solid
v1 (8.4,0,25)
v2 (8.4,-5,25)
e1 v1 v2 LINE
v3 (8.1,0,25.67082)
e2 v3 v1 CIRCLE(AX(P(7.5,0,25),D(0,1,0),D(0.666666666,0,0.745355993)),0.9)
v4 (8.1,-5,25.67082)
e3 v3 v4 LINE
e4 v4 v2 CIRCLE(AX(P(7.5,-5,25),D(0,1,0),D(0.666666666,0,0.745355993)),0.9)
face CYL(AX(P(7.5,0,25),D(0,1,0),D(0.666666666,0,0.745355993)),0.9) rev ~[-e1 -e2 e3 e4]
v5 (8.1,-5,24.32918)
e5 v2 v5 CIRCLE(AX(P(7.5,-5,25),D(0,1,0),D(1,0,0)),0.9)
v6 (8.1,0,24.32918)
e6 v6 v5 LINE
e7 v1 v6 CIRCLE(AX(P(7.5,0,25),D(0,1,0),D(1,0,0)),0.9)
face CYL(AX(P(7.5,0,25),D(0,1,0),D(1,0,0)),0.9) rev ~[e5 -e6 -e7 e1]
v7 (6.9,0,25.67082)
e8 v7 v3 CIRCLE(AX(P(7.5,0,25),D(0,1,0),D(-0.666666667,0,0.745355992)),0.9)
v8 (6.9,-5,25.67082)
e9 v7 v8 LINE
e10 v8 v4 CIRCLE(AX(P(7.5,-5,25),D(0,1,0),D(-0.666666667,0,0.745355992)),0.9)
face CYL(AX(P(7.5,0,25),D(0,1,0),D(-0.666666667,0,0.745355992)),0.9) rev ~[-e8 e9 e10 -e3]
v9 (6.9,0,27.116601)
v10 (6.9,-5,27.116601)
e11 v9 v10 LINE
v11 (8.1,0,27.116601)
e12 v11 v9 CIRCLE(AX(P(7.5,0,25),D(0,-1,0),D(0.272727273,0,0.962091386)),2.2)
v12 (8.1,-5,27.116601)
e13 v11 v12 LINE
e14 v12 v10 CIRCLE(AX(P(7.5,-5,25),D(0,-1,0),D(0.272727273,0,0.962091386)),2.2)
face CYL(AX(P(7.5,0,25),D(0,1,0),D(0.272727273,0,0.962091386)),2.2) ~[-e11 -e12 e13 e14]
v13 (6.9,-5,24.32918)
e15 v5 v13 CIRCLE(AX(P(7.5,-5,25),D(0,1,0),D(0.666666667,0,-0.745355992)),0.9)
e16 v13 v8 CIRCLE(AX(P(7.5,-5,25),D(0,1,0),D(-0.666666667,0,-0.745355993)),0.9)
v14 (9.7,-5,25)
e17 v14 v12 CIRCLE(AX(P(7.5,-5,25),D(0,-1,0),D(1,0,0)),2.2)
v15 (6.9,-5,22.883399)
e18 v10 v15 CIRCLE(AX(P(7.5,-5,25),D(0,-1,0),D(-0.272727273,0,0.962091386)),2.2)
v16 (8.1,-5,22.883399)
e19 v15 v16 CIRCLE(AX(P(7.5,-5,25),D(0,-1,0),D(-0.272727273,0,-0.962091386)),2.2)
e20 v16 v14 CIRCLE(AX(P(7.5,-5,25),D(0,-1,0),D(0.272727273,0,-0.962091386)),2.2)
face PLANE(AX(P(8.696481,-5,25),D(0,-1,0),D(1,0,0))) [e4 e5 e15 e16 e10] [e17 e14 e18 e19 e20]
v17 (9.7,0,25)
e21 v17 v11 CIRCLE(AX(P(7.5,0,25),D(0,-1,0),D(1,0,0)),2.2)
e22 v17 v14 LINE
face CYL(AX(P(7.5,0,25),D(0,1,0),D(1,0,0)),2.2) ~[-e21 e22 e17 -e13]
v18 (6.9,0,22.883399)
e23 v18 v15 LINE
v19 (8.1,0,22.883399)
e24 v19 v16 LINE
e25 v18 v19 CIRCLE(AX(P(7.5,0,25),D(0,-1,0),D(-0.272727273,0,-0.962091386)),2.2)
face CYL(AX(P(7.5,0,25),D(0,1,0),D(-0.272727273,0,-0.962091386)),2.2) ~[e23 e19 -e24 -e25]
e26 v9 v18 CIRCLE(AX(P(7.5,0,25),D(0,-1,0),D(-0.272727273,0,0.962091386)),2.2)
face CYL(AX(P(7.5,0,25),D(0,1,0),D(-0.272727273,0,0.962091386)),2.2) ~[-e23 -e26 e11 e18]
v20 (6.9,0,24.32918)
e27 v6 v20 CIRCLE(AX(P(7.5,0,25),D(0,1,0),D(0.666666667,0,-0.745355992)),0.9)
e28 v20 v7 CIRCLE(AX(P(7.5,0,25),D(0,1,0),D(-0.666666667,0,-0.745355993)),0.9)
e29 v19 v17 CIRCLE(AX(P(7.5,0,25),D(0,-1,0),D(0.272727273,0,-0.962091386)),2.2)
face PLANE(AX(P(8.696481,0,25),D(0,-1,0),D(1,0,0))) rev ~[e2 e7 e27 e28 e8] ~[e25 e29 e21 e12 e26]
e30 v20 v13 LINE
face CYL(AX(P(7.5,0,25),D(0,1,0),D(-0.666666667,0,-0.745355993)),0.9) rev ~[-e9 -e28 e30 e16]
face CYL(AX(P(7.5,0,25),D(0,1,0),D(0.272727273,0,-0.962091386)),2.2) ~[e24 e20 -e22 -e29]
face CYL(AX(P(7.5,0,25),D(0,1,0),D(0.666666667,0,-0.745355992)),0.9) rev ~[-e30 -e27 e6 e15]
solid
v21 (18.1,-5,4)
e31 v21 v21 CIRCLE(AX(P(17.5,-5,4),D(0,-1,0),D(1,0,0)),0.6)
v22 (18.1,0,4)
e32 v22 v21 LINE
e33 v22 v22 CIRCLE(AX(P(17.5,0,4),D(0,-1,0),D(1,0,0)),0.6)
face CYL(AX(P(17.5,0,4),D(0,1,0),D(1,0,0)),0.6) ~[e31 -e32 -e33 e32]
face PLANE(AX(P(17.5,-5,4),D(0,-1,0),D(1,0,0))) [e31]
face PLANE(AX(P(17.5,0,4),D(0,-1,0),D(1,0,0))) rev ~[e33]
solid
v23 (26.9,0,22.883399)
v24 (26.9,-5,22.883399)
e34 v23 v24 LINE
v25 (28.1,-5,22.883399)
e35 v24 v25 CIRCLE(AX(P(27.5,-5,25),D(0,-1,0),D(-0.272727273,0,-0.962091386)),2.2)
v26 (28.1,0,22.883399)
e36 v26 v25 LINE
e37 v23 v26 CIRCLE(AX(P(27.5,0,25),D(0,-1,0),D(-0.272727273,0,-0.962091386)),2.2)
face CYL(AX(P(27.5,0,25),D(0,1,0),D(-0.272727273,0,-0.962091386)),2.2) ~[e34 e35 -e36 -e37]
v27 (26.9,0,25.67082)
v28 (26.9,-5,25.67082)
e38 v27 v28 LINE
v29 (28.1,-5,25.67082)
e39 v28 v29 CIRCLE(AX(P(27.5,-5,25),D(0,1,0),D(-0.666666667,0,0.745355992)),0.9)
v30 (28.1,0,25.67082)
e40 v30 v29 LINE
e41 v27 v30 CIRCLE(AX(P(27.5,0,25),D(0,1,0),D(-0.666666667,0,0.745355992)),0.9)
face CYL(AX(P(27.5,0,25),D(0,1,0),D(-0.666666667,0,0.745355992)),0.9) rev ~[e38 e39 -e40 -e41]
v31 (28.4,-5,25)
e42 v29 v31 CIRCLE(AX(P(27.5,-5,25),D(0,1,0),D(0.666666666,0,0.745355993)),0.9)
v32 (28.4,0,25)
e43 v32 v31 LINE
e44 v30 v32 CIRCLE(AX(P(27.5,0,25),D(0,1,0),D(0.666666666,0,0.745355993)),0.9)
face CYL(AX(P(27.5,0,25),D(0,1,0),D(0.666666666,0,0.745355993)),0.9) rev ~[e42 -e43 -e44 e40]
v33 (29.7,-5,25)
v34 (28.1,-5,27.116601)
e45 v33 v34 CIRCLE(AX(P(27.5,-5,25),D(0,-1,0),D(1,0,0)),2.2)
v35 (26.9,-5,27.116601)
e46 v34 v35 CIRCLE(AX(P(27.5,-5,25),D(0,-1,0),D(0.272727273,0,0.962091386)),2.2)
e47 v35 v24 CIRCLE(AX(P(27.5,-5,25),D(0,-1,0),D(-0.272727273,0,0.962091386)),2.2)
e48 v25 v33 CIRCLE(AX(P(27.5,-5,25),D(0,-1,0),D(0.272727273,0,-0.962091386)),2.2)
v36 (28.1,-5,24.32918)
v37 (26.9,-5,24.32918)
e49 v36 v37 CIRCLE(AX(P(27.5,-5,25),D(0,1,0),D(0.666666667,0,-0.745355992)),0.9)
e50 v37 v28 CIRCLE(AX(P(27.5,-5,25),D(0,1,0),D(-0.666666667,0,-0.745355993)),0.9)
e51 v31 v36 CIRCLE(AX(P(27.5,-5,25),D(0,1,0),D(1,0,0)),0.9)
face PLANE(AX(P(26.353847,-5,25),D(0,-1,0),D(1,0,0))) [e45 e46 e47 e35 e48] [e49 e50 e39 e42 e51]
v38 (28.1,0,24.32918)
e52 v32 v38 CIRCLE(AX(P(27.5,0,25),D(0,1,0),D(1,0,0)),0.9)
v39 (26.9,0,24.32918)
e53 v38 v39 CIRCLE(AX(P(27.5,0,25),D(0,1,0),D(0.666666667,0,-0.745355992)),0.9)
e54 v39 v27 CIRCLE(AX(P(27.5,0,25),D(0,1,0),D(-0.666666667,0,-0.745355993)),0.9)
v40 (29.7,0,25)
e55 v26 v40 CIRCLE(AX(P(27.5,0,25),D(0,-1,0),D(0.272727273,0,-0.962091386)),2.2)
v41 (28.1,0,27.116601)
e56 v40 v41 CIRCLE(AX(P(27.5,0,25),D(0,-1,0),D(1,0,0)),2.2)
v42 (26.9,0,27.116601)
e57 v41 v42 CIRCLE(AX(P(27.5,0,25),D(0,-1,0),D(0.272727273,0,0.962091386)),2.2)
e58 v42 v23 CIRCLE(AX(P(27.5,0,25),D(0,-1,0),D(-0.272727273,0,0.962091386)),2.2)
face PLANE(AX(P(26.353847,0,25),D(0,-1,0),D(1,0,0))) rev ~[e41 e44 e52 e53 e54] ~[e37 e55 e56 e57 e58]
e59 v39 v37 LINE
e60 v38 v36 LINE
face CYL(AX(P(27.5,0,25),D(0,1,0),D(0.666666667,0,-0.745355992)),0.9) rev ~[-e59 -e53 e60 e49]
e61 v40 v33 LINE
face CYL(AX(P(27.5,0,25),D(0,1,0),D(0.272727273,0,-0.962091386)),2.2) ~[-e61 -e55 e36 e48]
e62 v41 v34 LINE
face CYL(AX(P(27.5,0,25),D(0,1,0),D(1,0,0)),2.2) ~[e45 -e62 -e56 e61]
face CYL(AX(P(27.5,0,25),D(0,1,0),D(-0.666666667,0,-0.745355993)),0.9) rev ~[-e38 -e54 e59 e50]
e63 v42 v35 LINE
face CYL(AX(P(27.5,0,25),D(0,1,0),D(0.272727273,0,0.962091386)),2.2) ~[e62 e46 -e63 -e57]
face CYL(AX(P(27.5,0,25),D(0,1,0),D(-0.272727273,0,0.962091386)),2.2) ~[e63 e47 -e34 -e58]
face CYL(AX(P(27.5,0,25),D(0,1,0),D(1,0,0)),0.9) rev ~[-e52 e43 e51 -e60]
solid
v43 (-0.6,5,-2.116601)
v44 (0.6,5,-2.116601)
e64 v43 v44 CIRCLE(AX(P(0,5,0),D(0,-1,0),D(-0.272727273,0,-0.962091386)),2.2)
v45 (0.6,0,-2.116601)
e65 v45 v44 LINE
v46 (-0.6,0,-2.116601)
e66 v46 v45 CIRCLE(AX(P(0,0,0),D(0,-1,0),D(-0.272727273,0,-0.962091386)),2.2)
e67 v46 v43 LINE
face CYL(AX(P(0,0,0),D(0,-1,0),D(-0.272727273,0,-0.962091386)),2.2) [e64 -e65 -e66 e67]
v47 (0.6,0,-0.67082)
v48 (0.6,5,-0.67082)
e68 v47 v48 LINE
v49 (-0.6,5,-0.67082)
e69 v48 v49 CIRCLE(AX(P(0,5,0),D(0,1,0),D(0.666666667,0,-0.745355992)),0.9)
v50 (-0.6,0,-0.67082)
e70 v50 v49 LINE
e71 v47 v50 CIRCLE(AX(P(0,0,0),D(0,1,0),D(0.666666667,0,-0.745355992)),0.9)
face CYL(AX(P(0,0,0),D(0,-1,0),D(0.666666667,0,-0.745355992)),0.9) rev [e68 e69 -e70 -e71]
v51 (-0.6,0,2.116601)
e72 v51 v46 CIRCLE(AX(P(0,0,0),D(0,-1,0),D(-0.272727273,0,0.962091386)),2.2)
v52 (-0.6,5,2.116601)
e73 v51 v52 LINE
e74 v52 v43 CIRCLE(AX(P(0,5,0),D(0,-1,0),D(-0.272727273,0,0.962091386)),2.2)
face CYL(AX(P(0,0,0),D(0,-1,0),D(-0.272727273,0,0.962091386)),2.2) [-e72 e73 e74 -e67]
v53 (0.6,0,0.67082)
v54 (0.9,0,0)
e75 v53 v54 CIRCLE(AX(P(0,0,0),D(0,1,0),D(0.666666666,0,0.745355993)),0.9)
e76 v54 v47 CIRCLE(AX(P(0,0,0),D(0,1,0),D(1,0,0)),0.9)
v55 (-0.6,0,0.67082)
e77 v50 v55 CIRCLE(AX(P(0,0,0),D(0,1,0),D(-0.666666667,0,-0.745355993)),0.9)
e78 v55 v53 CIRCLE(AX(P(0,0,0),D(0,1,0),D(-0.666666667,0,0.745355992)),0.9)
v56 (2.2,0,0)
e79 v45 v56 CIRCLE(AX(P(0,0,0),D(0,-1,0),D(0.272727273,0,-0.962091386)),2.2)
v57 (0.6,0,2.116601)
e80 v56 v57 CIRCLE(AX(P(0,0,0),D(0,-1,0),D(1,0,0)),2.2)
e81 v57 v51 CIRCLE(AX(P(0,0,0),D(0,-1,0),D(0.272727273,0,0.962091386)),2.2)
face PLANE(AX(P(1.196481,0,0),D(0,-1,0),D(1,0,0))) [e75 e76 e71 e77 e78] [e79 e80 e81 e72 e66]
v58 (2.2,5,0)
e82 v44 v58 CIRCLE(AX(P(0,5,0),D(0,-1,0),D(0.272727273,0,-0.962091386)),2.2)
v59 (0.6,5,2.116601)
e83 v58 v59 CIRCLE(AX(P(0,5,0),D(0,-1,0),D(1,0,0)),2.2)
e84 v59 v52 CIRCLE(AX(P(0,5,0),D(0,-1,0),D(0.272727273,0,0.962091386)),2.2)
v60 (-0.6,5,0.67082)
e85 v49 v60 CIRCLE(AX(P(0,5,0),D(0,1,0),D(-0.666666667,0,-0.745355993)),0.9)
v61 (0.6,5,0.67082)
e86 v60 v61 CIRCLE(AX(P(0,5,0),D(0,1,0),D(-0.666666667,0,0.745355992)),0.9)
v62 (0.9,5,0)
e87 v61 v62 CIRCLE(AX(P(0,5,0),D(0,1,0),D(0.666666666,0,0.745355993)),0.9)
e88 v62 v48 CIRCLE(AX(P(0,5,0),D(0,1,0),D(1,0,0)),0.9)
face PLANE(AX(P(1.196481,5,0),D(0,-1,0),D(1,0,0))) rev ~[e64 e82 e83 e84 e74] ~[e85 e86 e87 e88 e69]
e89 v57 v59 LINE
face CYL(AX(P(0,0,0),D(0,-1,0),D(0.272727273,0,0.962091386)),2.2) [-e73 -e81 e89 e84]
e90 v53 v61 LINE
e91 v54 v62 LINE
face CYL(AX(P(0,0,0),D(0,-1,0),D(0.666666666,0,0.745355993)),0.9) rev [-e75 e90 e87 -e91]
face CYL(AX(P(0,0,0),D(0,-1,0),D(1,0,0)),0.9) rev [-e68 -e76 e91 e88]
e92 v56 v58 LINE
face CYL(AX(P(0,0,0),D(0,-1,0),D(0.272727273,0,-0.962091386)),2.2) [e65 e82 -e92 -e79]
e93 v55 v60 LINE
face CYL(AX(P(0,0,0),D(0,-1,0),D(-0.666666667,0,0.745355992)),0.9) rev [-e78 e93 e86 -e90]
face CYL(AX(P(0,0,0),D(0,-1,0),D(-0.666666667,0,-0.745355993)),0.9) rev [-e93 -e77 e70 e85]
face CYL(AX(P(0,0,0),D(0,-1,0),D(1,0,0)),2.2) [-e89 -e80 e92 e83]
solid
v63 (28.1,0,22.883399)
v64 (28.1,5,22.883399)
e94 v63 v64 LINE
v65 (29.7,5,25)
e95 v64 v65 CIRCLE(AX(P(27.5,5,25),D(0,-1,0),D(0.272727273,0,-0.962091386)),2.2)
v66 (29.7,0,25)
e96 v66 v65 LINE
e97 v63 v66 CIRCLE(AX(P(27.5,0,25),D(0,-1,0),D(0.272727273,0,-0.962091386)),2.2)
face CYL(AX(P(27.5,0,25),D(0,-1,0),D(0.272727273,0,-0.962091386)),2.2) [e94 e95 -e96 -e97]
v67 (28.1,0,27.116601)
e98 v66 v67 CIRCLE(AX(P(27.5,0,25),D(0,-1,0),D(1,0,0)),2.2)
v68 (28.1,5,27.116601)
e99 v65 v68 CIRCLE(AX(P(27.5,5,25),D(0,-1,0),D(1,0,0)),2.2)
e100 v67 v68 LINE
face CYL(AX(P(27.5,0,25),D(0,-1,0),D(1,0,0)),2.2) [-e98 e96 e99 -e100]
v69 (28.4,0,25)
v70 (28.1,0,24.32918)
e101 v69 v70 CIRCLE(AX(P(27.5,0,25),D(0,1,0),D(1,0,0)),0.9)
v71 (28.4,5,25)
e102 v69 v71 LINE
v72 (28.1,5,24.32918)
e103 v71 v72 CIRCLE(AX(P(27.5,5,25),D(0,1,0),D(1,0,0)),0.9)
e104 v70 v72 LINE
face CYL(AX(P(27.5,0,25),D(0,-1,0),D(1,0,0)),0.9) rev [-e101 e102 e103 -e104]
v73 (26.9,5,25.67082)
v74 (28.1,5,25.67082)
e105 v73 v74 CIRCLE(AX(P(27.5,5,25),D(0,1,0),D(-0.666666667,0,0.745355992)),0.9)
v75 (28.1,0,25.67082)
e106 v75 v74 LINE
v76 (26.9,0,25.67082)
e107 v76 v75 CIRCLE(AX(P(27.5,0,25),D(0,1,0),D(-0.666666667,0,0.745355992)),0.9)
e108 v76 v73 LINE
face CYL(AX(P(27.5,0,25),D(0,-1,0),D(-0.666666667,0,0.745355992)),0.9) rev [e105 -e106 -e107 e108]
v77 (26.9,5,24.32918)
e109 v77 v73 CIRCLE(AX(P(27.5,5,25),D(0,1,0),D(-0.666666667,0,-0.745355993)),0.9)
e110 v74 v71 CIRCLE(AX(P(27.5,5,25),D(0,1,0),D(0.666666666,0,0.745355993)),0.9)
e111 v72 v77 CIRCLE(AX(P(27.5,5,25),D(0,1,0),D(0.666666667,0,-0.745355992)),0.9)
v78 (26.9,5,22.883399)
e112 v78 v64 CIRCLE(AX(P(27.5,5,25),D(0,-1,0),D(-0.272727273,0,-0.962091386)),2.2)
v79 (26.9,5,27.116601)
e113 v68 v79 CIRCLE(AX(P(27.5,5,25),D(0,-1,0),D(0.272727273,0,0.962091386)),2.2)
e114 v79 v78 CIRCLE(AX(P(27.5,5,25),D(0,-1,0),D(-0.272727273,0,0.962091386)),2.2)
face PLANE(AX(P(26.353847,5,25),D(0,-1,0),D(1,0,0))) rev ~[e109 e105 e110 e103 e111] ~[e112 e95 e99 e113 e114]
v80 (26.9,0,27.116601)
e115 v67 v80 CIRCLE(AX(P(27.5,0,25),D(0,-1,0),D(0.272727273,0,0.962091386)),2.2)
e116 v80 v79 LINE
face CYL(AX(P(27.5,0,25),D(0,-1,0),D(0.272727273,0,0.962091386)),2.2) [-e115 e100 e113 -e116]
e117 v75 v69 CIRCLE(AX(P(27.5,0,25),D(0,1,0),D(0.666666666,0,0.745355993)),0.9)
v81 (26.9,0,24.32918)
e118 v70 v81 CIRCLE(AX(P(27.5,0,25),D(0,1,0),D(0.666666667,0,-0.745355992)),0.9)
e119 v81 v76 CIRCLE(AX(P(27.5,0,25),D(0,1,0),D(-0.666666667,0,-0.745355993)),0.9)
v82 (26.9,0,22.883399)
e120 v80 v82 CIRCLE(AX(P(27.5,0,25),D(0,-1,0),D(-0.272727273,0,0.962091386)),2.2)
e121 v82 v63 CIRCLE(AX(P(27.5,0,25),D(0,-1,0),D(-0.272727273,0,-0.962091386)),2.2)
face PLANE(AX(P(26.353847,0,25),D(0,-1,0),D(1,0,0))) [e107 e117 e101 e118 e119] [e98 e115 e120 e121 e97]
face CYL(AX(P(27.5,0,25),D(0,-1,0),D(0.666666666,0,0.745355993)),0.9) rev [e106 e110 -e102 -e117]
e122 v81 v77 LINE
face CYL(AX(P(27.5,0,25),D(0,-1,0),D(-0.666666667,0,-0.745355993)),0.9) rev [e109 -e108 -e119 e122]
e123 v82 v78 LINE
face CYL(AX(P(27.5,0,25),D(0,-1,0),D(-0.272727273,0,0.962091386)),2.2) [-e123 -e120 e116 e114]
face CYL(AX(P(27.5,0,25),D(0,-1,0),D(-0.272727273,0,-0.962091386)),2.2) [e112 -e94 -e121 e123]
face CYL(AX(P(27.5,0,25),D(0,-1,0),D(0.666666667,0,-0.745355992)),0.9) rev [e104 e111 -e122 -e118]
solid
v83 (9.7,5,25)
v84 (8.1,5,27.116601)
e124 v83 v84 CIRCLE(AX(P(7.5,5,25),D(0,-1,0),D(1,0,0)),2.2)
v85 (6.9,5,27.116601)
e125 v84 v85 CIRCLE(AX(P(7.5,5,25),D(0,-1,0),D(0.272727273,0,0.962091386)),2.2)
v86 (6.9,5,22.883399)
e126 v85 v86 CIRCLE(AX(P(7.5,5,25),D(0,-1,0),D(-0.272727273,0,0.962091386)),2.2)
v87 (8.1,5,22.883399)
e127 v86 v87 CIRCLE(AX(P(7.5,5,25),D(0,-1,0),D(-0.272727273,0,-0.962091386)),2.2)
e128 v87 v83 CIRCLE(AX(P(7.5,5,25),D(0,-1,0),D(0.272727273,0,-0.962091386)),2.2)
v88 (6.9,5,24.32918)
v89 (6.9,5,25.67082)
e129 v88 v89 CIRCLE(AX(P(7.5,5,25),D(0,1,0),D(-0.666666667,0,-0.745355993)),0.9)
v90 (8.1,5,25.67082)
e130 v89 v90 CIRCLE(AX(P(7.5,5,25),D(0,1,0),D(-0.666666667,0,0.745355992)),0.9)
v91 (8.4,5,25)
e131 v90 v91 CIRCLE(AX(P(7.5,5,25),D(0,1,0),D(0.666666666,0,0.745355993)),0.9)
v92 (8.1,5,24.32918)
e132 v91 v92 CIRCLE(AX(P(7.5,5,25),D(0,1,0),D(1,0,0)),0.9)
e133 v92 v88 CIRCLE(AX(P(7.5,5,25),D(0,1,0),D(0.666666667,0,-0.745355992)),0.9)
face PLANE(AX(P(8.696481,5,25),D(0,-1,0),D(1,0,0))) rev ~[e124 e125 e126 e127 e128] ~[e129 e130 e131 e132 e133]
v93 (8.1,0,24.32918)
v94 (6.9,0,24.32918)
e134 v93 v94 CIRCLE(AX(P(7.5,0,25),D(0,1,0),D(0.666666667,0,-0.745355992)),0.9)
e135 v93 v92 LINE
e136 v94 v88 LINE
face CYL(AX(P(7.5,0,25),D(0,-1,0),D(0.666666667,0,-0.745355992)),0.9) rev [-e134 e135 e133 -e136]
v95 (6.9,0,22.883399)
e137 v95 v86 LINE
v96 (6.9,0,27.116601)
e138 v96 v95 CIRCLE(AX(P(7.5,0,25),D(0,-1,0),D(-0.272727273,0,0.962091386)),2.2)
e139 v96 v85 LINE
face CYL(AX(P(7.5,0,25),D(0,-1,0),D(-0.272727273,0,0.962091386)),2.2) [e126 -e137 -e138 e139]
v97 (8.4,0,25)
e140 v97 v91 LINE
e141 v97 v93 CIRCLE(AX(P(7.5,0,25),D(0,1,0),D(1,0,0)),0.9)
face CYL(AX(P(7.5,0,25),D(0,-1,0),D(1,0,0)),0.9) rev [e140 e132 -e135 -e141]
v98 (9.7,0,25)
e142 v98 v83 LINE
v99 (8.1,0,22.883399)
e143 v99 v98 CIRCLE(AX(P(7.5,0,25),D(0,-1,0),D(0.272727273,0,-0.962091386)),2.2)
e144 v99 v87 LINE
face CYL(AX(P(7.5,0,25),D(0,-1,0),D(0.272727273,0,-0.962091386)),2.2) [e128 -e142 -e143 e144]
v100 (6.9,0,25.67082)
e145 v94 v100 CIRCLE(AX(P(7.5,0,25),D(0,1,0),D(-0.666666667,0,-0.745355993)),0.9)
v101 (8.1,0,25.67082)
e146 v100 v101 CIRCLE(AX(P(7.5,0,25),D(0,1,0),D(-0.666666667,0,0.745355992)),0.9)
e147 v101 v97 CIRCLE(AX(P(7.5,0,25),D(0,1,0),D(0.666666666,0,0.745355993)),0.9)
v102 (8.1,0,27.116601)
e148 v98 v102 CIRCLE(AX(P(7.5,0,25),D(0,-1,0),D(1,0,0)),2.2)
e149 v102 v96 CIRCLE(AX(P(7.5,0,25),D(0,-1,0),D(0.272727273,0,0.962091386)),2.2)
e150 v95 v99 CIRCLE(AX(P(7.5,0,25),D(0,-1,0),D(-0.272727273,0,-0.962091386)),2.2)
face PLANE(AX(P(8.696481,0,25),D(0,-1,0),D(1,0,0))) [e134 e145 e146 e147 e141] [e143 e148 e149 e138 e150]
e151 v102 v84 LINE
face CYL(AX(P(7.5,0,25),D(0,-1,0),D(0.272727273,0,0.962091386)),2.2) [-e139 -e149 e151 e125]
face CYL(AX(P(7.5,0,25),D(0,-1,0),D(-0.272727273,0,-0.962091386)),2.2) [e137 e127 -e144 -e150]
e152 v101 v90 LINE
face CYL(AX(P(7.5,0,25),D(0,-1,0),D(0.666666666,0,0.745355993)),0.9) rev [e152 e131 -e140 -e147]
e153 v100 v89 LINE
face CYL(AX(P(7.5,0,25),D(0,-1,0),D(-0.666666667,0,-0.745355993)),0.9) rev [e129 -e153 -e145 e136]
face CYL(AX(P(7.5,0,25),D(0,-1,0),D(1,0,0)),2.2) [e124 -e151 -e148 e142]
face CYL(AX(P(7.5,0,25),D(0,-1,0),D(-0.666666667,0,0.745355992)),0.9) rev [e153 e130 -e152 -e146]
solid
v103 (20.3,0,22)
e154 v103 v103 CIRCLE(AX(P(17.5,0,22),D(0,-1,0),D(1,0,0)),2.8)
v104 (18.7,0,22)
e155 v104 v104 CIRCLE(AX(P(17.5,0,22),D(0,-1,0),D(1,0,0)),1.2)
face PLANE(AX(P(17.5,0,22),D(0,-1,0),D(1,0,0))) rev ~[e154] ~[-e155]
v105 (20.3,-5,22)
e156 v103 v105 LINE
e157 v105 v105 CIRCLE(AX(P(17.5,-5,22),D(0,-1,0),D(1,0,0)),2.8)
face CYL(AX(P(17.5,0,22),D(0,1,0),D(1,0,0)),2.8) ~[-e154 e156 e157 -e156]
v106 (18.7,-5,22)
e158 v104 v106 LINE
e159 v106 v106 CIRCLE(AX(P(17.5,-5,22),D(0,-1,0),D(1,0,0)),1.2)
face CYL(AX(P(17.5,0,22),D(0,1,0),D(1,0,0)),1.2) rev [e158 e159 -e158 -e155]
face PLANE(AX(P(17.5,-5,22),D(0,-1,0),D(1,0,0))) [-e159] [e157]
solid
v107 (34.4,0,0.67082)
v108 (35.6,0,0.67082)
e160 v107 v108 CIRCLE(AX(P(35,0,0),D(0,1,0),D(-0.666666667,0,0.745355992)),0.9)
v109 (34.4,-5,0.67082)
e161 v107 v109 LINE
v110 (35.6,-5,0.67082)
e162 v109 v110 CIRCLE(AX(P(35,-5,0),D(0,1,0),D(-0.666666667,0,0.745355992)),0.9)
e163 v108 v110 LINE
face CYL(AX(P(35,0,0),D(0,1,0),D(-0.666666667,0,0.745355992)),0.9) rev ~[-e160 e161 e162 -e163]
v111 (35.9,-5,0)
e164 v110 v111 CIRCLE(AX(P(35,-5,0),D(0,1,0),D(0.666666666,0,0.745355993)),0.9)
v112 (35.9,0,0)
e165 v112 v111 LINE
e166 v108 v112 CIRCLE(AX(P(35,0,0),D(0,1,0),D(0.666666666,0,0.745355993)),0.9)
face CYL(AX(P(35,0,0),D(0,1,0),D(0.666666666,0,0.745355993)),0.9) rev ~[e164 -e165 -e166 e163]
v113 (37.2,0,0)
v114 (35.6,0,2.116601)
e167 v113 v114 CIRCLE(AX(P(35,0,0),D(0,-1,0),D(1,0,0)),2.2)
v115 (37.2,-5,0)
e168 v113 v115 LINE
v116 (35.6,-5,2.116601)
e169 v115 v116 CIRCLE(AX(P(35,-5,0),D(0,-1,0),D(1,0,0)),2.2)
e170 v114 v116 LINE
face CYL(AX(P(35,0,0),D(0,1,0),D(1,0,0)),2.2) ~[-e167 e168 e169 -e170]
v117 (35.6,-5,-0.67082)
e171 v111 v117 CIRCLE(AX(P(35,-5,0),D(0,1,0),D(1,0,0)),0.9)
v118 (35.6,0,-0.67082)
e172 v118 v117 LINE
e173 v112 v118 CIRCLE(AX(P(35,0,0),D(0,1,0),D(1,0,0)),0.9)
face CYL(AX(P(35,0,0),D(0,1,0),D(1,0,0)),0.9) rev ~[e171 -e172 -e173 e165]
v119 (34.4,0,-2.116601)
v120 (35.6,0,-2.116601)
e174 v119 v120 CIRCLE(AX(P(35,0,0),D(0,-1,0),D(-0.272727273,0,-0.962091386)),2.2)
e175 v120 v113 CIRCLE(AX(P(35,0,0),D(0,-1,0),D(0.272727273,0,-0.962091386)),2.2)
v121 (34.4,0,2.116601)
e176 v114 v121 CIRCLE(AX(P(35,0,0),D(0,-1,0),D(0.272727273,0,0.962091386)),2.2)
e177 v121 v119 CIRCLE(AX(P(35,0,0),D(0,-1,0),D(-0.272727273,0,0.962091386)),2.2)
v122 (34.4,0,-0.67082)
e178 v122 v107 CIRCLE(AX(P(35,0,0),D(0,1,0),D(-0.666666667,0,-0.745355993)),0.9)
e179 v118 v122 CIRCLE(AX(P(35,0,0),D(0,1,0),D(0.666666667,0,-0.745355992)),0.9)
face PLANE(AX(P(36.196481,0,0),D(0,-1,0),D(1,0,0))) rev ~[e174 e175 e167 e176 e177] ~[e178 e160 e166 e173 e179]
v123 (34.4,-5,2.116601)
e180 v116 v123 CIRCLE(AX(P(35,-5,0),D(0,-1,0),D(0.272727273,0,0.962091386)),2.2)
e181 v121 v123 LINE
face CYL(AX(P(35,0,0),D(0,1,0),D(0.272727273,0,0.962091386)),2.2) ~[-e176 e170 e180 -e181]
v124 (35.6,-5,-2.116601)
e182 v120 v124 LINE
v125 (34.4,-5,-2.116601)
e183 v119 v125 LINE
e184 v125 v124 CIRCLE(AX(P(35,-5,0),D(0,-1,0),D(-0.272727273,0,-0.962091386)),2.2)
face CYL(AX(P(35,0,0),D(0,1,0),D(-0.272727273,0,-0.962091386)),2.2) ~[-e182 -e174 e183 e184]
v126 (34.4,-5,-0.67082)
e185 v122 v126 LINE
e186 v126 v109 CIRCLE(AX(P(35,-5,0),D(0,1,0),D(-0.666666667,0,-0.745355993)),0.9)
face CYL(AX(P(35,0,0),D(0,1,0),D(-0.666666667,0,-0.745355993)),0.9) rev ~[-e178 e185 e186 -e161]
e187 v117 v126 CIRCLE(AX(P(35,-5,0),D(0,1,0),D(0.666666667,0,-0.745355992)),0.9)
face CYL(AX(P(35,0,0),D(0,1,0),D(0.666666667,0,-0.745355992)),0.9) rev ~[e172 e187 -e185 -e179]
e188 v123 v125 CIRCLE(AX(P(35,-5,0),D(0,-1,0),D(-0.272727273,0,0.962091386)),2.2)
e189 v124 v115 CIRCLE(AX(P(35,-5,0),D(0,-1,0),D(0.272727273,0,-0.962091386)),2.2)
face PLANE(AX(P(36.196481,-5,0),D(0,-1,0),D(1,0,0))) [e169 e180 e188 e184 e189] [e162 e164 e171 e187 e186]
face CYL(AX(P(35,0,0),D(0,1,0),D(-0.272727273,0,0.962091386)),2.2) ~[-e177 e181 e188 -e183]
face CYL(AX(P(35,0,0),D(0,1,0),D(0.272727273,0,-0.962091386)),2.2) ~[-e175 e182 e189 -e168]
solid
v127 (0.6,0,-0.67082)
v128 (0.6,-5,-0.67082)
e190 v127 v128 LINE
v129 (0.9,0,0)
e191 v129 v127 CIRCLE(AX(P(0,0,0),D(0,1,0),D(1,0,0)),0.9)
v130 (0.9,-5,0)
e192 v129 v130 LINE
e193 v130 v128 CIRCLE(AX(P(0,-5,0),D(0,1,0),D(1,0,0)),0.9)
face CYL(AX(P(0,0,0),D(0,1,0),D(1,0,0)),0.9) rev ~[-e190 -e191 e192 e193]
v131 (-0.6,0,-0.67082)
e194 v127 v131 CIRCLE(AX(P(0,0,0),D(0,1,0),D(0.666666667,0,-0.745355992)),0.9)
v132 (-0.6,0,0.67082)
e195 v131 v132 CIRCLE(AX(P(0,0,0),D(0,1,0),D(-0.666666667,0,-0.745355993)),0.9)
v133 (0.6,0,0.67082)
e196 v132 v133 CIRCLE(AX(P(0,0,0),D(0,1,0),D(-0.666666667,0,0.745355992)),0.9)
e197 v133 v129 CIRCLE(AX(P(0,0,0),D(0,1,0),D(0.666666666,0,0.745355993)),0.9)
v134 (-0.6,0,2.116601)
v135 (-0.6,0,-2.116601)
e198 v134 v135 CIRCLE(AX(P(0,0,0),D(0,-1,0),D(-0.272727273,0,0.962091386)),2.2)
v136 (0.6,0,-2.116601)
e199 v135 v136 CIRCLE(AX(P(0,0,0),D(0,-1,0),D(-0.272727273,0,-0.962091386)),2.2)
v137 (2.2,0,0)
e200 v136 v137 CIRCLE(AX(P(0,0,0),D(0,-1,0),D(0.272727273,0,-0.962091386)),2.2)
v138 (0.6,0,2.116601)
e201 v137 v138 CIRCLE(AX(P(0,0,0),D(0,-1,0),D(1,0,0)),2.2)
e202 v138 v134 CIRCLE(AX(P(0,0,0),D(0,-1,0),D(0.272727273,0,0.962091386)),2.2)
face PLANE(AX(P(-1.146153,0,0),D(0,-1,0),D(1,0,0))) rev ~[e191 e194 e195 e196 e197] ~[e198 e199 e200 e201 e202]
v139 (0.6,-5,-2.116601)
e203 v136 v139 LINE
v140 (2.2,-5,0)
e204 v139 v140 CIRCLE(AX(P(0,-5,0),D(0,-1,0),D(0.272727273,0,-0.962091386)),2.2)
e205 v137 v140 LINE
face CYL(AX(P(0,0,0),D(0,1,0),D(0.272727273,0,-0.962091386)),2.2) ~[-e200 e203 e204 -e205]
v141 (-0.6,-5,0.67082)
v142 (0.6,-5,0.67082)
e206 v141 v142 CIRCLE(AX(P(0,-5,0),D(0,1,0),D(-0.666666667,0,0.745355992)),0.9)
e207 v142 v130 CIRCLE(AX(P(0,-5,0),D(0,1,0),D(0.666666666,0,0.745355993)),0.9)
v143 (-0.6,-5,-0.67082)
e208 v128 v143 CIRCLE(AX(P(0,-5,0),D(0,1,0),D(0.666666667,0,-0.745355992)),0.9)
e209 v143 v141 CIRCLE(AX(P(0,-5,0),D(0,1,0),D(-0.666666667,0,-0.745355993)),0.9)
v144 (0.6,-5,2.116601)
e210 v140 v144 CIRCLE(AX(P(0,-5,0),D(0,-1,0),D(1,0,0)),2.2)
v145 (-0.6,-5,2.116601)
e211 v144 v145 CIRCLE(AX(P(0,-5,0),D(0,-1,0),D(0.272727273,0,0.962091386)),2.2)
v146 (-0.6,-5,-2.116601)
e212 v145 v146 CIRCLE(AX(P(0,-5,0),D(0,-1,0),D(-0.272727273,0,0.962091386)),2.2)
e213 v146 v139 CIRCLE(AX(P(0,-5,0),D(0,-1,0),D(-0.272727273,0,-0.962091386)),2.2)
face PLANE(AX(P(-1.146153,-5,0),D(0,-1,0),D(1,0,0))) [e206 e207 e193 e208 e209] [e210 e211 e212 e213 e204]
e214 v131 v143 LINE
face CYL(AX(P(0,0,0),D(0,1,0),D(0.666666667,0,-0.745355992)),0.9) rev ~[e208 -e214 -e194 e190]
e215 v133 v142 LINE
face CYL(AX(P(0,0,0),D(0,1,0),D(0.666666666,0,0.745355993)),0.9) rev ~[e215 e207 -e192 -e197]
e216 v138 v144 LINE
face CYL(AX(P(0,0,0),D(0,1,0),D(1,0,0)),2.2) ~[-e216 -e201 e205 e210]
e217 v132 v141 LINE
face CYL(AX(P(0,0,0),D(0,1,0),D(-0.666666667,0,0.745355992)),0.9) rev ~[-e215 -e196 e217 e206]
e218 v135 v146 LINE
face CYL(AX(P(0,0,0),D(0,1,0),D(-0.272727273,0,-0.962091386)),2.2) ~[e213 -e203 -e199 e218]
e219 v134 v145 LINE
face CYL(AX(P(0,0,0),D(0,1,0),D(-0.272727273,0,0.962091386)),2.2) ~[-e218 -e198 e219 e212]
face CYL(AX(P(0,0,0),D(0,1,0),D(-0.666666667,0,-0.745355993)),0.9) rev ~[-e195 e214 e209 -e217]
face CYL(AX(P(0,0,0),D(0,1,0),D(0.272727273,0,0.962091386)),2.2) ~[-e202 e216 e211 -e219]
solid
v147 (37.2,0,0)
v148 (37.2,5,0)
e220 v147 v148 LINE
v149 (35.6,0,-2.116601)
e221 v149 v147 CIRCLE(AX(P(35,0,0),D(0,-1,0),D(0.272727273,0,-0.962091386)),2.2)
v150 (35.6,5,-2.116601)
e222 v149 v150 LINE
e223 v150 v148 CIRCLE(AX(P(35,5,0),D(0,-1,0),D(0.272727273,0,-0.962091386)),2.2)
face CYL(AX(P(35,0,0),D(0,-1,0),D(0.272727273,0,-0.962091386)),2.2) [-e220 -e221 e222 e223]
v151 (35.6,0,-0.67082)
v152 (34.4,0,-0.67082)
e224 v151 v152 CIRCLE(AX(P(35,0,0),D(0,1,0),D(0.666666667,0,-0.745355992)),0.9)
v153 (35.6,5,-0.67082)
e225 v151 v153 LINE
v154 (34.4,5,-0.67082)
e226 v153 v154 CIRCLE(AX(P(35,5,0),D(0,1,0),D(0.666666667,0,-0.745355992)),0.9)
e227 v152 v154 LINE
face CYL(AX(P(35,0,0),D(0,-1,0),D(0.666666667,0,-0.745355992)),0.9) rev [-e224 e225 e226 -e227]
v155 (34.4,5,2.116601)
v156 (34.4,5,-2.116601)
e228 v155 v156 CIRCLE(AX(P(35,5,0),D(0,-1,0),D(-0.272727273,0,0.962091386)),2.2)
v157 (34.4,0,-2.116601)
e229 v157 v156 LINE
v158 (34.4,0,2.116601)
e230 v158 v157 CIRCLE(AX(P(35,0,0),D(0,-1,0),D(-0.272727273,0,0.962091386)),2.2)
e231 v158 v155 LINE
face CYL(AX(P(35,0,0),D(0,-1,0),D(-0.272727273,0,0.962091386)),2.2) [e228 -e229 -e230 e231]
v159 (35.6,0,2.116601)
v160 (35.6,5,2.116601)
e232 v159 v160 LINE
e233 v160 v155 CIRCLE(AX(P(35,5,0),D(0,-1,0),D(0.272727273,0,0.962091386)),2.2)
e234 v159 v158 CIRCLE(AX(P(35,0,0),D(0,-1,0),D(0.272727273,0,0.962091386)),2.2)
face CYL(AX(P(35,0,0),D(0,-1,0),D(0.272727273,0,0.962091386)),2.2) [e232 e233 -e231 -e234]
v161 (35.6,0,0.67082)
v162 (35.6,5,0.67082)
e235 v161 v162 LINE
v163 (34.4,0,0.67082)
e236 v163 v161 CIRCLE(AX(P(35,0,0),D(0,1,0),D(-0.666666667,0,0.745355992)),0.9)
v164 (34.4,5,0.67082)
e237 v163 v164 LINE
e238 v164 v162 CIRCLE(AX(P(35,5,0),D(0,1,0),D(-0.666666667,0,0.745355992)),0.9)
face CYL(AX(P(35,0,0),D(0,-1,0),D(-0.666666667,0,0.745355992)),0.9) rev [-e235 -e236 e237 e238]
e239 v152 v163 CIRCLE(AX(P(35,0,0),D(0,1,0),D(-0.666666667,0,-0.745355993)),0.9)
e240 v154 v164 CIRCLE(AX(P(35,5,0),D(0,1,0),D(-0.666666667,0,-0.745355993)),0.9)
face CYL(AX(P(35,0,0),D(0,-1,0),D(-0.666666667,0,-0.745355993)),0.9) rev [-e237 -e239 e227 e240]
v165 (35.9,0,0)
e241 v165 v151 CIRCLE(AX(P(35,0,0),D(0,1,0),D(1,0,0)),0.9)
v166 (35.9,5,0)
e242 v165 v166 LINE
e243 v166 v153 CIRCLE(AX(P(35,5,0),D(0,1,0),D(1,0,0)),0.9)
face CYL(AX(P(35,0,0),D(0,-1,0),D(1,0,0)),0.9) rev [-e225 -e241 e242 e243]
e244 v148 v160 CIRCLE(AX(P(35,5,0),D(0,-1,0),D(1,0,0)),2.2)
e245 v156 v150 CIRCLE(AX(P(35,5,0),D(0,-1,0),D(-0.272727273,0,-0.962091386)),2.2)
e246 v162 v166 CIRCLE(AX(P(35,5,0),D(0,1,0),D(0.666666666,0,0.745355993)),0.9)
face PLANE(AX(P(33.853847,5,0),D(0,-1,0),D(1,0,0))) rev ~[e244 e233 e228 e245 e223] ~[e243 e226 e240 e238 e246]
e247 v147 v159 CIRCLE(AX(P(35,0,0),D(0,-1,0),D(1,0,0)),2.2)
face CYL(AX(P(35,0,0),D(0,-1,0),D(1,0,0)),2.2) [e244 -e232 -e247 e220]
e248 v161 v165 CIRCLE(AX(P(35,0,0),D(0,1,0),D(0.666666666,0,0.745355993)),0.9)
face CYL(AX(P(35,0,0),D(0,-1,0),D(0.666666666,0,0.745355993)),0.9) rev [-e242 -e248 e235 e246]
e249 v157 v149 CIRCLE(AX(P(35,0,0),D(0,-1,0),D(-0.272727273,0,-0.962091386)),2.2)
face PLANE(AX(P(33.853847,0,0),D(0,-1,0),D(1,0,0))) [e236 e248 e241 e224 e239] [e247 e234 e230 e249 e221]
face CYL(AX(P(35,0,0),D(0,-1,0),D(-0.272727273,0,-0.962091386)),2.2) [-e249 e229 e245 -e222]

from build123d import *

# Parameters (mm, degrees)
F1_DEPTH = 5
F2_DEPTH = 5
F0_R     = 2.8
F0_R_2   = 1.2
F0_R_3   = 0.6


with BuildPart() as f1:
    # F0 (on Front) → F1 (new body)
    with BuildSketch(Plane.XZ):
        with BuildLine():
            ThreePointArc((26.9, 24.3291796068), (26.6, 25), (26.9, 25.6708203932))
            Line((26.9, 25.6708203932), (26.9, 27.1166010489))
            ThreePointArc((26.9, 27.1166010489), (25.3, 25), (26.9, 22.8833989511))
            Line((26.9, 22.8833989511), (26.9, 24.3291796068))
        make_face()
        with BuildLine():
            ThreePointArc((26.9, 25.6708203932), (27.5, 25.9), (28.1, 25.6708203932))
            Line((28.1, 25.6708203932), (28.1, 27.1166010489))
            ThreePointArc((28.1, 27.1166010489), (27.5, 27.2), (26.9, 27.1166010489))
            Line((26.9, 27.1166010489), (26.9, 25.6708203932))
        make_face()
        with BuildLine():
            ThreePointArc((28.1, 25.6708203932), (28.3215838363, 25.3674234614), (28.4, 25))
            ThreePointArc((28.4, 25), (28.3215838363, 24.6325765386), (28.1, 24.3291796068))
            Line((28.1, 24.3291796068), (28.1, 22.8833989511))
            ThreePointArc((28.1, 22.8833989511), (29.2549928775, 23.6733500839), (29.7, 25))
            ThreePointArc((29.7, 25), (29.2549928775, 26.3266499161), (28.1, 27.1166010489))
            Line((28.1, 27.1166010489), (28.1, 25.6708203932))
        make_face()
        with BuildLine():
            Line((28.1, 22.8833989511), (28.1, 24.3291796068))
            ThreePointArc((28.1, 24.3291796068), (27.5, 24.1), (26.9, 24.3291796068))
            Line((26.9, 24.3291796068), (26.9, 22.8833989511))
            ThreePointArc((26.9, 22.8833989511), (27.5, 22.8), (28.1, 22.8833989511))
        make_face()
    extrude(amount=-F1_DEPTH)


with BuildPart() as f1b:
    # F0 (on Front) → F1, piece 2 (new body)
    with BuildSketch(Plane.XZ):
        with BuildLine():
            ThreePointArc((8.1, 25.6708203932), (8.3215838363, 25.3674234614), (8.4, 25))
            ThreePointArc((8.4, 25), (8.3215838363, 24.6325765386), (8.1, 24.3291796068))
            Line((8.1, 24.3291796068), (8.1, 22.8833989511))
            ThreePointArc((8.1, 22.8833989511), (9.2549928775, 23.6733500839), (9.7, 25))
            ThreePointArc((9.7, 25), (9.2549928775, 26.3266499161), (8.1, 27.1166010489))
            Line((8.1, 27.1166010489), (8.1, 25.6708203932))
        make_face()
        with BuildLine():
            ThreePointArc((6.9, 25.6708203932), (7.5, 25.9), (8.1, 25.6708203932))
            Line((8.1, 25.6708203932), (8.1, 27.1166010489))
            ThreePointArc((8.1, 27.1166010489), (7.5, 27.2), (6.9, 27.1166010489))
            Line((6.9, 27.1166010489), (6.9, 25.6708203932))
        make_face()
        with BuildLine():
            ThreePointArc((6.9, 24.3291796068), (6.6, 25), (6.9, 25.6708203932))
            Line((6.9, 25.6708203932), (6.9, 27.1166010489))
            ThreePointArc((6.9, 27.1166010489), (5.3, 25), (6.9, 22.8833989511))
            Line((6.9, 22.8833989511), (6.9, 24.3291796068))
        make_face()
        with BuildLine():
            Line((8.1, 22.8833989511), (8.1, 24.3291796068))
            ThreePointArc((8.1, 24.3291796068), (7.5, 24.1), (6.9, 24.3291796068))
            Line((6.9, 24.3291796068), (6.9, 22.8833989511))
            ThreePointArc((6.9, 22.8833989511), (7.5, 22.8), (8.1, 22.8833989511))
        make_face()
    extrude(amount=-F1_DEPTH)


with BuildPart() as f1c:
    # F0 (on Front) → F1, piece 3 (new body)
    with BuildSketch(Plane.XZ):
        with BuildLine():
            ThreePointArc((34.4, -0.6708203932), (34.1, 0), (34.4, 0.6708203932))
            Line((34.4, 0.6708203932), (34.4, 2.1166010489))
            ThreePointArc((34.4, 2.1166010489), (32.8, 0), (34.4, -2.1166010489))
            Line((34.4, -2.1166010489), (34.4, -0.6708203932))
        make_face()
        with BuildLine():
            Line((35.6, -2.1166010489), (35.6, -0.6708203932))
            ThreePointArc((35.6, -0.6708203932), (35, -0.9), (34.4, -0.6708203932))
            Line((34.4, -0.6708203932), (34.4, -2.1166010489))
            ThreePointArc((34.4, -2.1166010489), (35, -2.2), (35.6, -2.1166010489))
        make_face()
        with BuildLine():
            ThreePointArc((35.6, 0.6708203932), (35.8215838363, 0.3674234614), (35.9, 0))
            ThreePointArc((35.9, 0), (35.8215838363, -0.3674234614), (35.6, -0.6708203932))
            Line((35.6, -0.6708203932), (35.6, -2.1166010489))
            ThreePointArc((35.6, -2.1166010489), (36.7549928775, -1.3266499161), (37.2, 0))
            ThreePointArc((37.2, 0), (36.7549928775, 1.3266499161), (35.6, 2.1166010489))
            Line((35.6, 2.1166010489), (35.6, 0.6708203932))
        make_face()
        with BuildLine():
            ThreePointArc((34.4, 0.6708203932), (35, 0.9), (35.6, 0.6708203932))
            Line((35.6, 0.6708203932), (35.6, 2.1166010489))
            ThreePointArc((35.6, 2.1166010489), (35, 2.2), (34.4, 2.1166010489))
            Line((34.4, 2.1166010489), (34.4, 0.6708203932))
        make_face()
    extrude(amount=-F1_DEPTH)


with BuildPart() as f1d:
    # F0 (on Front) → F1, piece 4 (new body)
    with BuildSketch(Plane.XZ):
        with BuildLine():
            ThreePointArc((0.6, 0.6708203932), (0.8215838363, 0.3674234614), (0.9, 0))
            ThreePointArc((0.9, 0), (0.8215838363, -0.3674234614), (0.6, -0.6708203932))
            Line((0.6, -0.6708203932), (0.6, -2.1166010489))
            ThreePointArc((0.6, -2.1166010489), (1.7549928775, -1.3266499161), (2.2, 0))
            ThreePointArc((2.2, 0), (1.7549928775, 1.3266499161), (0.6, 2.1166010489))
            Line((0.6, 2.1166010489), (0.6, 0.6708203932))
        make_face()
        with BuildLine():
            ThreePointArc((-0.6, 0.6708203932), (0, 0.9), (0.6, 0.6708203932))
            Line((0.6, 0.6708203932), (0.6, 2.1166010489))
            ThreePointArc((0.6, 2.1166010489), (0, 2.2), (-0.6, 2.1166010489))
            Line((-0.6, 2.1166010489), (-0.6, 0.6708203932))
        make_face()
        with BuildLine():
            ThreePointArc((-0.6, -0.6708203932), (-0.9, 0), (-0.6, 0.6708203932))
            Line((-0.6, 0.6708203932), (-0.6, 2.1166010489))
            ThreePointArc((-0.6, 2.1166010489), (-2.2, 0), (-0.6, -2.1166010489))
            Line((-0.6, -2.1166010489), (-0.6, -0.6708203932))
        make_face()
        with BuildLine():
            Line((0.6, -2.1166010489), (0.6, -0.6708203932))
            ThreePointArc((0.6, -0.6708203932), (0, -0.9), (-0.6, -0.6708203932))
            Line((-0.6, -0.6708203932), (-0.6, -2.1166010489))
            ThreePointArc((-0.6, -2.1166010489), (0, -2.2), (0.6, -2.1166010489))
        make_face()
    extrude(amount=-F1_DEPTH)


with BuildPart() as f2:
    # F0 (on Front) → F2 (new body)
    with BuildSketch(Plane.XZ):
        with BuildLine():
            ThreePointArc((-0.6, -0.6708203932), (-0.9, 0), (-0.6, 0.6708203932))
            Line((-0.6, 0.6708203932), (-0.6, 2.1166010489))
            ThreePointArc((-0.6, 2.1166010489), (-2.2, 0), (-0.6, -2.1166010489))
            Line((-0.6, -2.1166010489), (-0.6, -0.6708203932))
        make_face()
        with BuildLine():
            ThreePointArc((0.6, 0.6708203932), (0.8215838363, 0.3674234614), (0.9, 0))
            ThreePointArc((0.9, 0), (0.8215838363, -0.3674234614), (0.6, -0.6708203932))
            Line((0.6, -0.6708203932), (0.6, -2.1166010489))
            ThreePointArc((0.6, -2.1166010489), (1.7549928775, -1.3266499161), (2.2, 0))
            ThreePointArc((2.2, 0), (1.7549928775, 1.3266499161), (0.6, 2.1166010489))
            Line((0.6, 2.1166010489), (0.6, 0.6708203932))
        make_face()
        with BuildLine():
            ThreePointArc((-0.6, 0.6708203932), (0, 0.9), (0.6, 0.6708203932))
            Line((0.6, 0.6708203932), (0.6, 2.1166010489))
            ThreePointArc((0.6, 2.1166010489), (0, 2.2), (-0.6, 2.1166010489))
            Line((-0.6, 2.1166010489), (-0.6, 0.6708203932))
        make_face()
        with BuildLine():
            Line((0.6, -2.1166010489), (0.6, -0.6708203932))
            ThreePointArc((0.6, -0.6708203932), (0, -0.9), (-0.6, -0.6708203932))
            Line((-0.6, -0.6708203932), (-0.6, -2.1166010489))
            ThreePointArc((-0.6, -2.1166010489), (0, -2.2), (0.6, -2.1166010489))
        make_face()
    extrude(amount=F2_DEPTH)


with BuildPart() as f2b:
    # F0 (on Front) → F2, piece 2 (new body)
    with BuildSketch(Plane.XZ):
        with BuildLine():
            ThreePointArc((35.6, 0.6708203932), (35.8215838363, 0.3674234614), (35.9, 0))
            ThreePointArc((35.9, 0), (35.8215838363, -0.3674234614), (35.6, -0.6708203932))
            Line((35.6, -0.6708203932), (35.6, -2.1166010489))
            ThreePointArc((35.6, -2.1166010489), (36.7549928775, -1.3266499161), (37.2, 0))
            ThreePointArc((37.2, 0), (36.7549928775, 1.3266499161), (35.6, 2.1166010489))
            Line((35.6, 2.1166010489), (35.6, 0.6708203932))
        make_face()
        with BuildLine():
            ThreePointArc((34.4, 0.6708203932), (35, 0.9), (35.6, 0.6708203932))
            Line((35.6, 0.6708203932), (35.6, 2.1166010489))
            ThreePointArc((35.6, 2.1166010489), (35, 2.2), (34.4, 2.1166010489))
            Line((34.4, 2.1166010489), (34.4, 0.6708203932))
        make_face()
        with BuildLine():
            ThreePointArc((34.4, -0.6708203932), (34.1, 0), (34.4, 0.6708203932))
            Line((34.4, 0.6708203932), (34.4, 2.1166010489))
            ThreePointArc((34.4, 2.1166010489), (32.8, 0), (34.4, -2.1166010489))
            Line((34.4, -2.1166010489), (34.4, -0.6708203932))
        make_face()
        with BuildLine():
            Line((35.6, -2.1166010489), (35.6, -0.6708203932))
            ThreePointArc((35.6, -0.6708203932), (35, -0.9), (34.4, -0.6708203932))
            Line((34.4, -0.6708203932), (34.4, -2.1166010489))
            ThreePointArc((34.4, -2.1166010489), (35, -2.2), (35.6, -2.1166010489))
        make_face()
    extrude(amount=F2_DEPTH)


with BuildPart() as f2c:
    # F0 (on Front) → F2, piece 3 (new body)
    with BuildSketch(Plane.XZ):
        with BuildLine():
            ThreePointArc((26.9, 24.3291796068), (26.6, 25), (26.9, 25.6708203932))
            Line((26.9, 25.6708203932), (26.9, 27.1166010489))
            ThreePointArc((26.9, 27.1166010489), (25.3, 25), (26.9, 22.8833989511))
            Line((26.9, 22.8833989511), (26.9, 24.3291796068))
        make_face()
        with BuildLine():
            ThreePointArc((26.9, 25.6708203932), (27.5, 25.9), (28.1, 25.6708203932))
            Line((28.1, 25.6708203932), (28.1, 27.1166010489))
            ThreePointArc((28.1, 27.1166010489), (27.5, 27.2), (26.9, 27.1166010489))
            Line((26.9, 27.1166010489), (26.9, 25.6708203932))
        make_face()
        with BuildLine():
            ThreePointArc((28.1, 25.6708203932), (28.3215838363, 25.3674234614), (28.4, 25))
            ThreePointArc((28.4, 25), (28.3215838363, 24.6325765386), (28.1, 24.3291796068))
            Line((28.1, 24.3291796068), (28.1, 22.8833989511))
            ThreePointArc((28.1, 22.8833989511), (29.2549928775, 23.6733500839), (29.7, 25))
            ThreePointArc((29.7, 25), (29.2549928775, 26.3266499161), (28.1, 27.1166010489))
            Line((28.1, 27.1166010489), (28.1, 25.6708203932))
        make_face()
        with BuildLine():
            Line((28.1, 22.8833989511), (28.1, 24.3291796068))
            ThreePointArc((28.1, 24.3291796068), (27.5, 24.1), (26.9, 24.3291796068))
            Line((26.9, 24.3291796068), (26.9, 22.8833989511))
            ThreePointArc((26.9, 22.8833989511), (27.5, 22.8), (28.1, 22.8833989511))
        make_face()
    extrude(amount=F2_DEPTH)


with BuildPart() as f2d:
    # F0 (on Front) → F2, piece 4 (new body)
    with BuildSketch(Plane.XZ):
        with Locations((17.5, 22)):
            Circle(F0_R)
        with Locations((17.5, 22)):
            Circle(F0_R_2, mode=Mode.SUBTRACT)
    extrude(amount=F2_DEPTH)


with BuildPart() as f2e:
    # F0 (on Front) → F2, piece 5 (new body)
    with BuildSketch(Plane.XZ):
        with BuildLine():
            ThreePointArc((8.1, 25.6708203932), (8.3215838363, 25.3674234614), (8.4, 25))
            ThreePointArc((8.4, 25), (8.3215838363, 24.6325765386), (8.1, 24.3291796068))
            Line((8.1, 24.3291796068), (8.1, 22.8833989511))
            ThreePointArc((8.1, 22.8833989511), (9.2549928775, 23.6733500839), (9.7, 25))
            ThreePointArc((9.7, 25), (9.2549928775, 26.3266499161), (8.1, 27.1166010489))
            Line((8.1, 27.1166010489), (8.1, 25.6708203932))
        make_face()
        with BuildLine():
            ThreePointArc((6.9, 25.6708203932), (7.5, 25.9), (8.1, 25.6708203932))
            Line((8.1, 25.6708203932), (8.1, 27.1166010489))
            ThreePointArc((8.1, 27.1166010489), (7.5, 27.2), (6.9, 27.1166010489))
            Line((6.9, 27.1166010489), (6.9, 25.6708203932))
        make_face()
        with BuildLine():
            Line((8.1, 22.8833989511), (8.1, 24.3291796068))
            ThreePointArc((8.1, 24.3291796068), (7.5, 24.1), (6.9, 24.3291796068))
            Line((6.9, 24.3291796068), (6.9, 22.8833989511))
            ThreePointArc((6.9, 22.8833989511), (7.5, 22.8), (8.1, 22.8833989511))
        make_face()
        with BuildLine():
            ThreePointArc((6.9, 24.3291796068), (6.6, 25), (6.9, 25.6708203932))
            Line((6.9, 25.6708203932), (6.9, 27.1166010489))
            ThreePointArc((6.9, 27.1166010489), (5.3, 25), (6.9, 22.8833989511))
            Line((6.9, 22.8833989511), (6.9, 24.3291796068))
        make_face()
    extrude(amount=F2_DEPTH)


with BuildPart() as f2f:
    # F0 (on Front) → F2, piece 6 (new body)
    with BuildSketch(Plane.XZ):
        with Locations((17.5, 4)):
            Circle(F0_R_3)
    extrude(amount=F2_DEPTH)


solid = Compound([f1.part, f1b.part, f1c.part, f1d.part, f2.part, f2b.part, f2c.part, f2d.part, f2e.part, f2f.part])
